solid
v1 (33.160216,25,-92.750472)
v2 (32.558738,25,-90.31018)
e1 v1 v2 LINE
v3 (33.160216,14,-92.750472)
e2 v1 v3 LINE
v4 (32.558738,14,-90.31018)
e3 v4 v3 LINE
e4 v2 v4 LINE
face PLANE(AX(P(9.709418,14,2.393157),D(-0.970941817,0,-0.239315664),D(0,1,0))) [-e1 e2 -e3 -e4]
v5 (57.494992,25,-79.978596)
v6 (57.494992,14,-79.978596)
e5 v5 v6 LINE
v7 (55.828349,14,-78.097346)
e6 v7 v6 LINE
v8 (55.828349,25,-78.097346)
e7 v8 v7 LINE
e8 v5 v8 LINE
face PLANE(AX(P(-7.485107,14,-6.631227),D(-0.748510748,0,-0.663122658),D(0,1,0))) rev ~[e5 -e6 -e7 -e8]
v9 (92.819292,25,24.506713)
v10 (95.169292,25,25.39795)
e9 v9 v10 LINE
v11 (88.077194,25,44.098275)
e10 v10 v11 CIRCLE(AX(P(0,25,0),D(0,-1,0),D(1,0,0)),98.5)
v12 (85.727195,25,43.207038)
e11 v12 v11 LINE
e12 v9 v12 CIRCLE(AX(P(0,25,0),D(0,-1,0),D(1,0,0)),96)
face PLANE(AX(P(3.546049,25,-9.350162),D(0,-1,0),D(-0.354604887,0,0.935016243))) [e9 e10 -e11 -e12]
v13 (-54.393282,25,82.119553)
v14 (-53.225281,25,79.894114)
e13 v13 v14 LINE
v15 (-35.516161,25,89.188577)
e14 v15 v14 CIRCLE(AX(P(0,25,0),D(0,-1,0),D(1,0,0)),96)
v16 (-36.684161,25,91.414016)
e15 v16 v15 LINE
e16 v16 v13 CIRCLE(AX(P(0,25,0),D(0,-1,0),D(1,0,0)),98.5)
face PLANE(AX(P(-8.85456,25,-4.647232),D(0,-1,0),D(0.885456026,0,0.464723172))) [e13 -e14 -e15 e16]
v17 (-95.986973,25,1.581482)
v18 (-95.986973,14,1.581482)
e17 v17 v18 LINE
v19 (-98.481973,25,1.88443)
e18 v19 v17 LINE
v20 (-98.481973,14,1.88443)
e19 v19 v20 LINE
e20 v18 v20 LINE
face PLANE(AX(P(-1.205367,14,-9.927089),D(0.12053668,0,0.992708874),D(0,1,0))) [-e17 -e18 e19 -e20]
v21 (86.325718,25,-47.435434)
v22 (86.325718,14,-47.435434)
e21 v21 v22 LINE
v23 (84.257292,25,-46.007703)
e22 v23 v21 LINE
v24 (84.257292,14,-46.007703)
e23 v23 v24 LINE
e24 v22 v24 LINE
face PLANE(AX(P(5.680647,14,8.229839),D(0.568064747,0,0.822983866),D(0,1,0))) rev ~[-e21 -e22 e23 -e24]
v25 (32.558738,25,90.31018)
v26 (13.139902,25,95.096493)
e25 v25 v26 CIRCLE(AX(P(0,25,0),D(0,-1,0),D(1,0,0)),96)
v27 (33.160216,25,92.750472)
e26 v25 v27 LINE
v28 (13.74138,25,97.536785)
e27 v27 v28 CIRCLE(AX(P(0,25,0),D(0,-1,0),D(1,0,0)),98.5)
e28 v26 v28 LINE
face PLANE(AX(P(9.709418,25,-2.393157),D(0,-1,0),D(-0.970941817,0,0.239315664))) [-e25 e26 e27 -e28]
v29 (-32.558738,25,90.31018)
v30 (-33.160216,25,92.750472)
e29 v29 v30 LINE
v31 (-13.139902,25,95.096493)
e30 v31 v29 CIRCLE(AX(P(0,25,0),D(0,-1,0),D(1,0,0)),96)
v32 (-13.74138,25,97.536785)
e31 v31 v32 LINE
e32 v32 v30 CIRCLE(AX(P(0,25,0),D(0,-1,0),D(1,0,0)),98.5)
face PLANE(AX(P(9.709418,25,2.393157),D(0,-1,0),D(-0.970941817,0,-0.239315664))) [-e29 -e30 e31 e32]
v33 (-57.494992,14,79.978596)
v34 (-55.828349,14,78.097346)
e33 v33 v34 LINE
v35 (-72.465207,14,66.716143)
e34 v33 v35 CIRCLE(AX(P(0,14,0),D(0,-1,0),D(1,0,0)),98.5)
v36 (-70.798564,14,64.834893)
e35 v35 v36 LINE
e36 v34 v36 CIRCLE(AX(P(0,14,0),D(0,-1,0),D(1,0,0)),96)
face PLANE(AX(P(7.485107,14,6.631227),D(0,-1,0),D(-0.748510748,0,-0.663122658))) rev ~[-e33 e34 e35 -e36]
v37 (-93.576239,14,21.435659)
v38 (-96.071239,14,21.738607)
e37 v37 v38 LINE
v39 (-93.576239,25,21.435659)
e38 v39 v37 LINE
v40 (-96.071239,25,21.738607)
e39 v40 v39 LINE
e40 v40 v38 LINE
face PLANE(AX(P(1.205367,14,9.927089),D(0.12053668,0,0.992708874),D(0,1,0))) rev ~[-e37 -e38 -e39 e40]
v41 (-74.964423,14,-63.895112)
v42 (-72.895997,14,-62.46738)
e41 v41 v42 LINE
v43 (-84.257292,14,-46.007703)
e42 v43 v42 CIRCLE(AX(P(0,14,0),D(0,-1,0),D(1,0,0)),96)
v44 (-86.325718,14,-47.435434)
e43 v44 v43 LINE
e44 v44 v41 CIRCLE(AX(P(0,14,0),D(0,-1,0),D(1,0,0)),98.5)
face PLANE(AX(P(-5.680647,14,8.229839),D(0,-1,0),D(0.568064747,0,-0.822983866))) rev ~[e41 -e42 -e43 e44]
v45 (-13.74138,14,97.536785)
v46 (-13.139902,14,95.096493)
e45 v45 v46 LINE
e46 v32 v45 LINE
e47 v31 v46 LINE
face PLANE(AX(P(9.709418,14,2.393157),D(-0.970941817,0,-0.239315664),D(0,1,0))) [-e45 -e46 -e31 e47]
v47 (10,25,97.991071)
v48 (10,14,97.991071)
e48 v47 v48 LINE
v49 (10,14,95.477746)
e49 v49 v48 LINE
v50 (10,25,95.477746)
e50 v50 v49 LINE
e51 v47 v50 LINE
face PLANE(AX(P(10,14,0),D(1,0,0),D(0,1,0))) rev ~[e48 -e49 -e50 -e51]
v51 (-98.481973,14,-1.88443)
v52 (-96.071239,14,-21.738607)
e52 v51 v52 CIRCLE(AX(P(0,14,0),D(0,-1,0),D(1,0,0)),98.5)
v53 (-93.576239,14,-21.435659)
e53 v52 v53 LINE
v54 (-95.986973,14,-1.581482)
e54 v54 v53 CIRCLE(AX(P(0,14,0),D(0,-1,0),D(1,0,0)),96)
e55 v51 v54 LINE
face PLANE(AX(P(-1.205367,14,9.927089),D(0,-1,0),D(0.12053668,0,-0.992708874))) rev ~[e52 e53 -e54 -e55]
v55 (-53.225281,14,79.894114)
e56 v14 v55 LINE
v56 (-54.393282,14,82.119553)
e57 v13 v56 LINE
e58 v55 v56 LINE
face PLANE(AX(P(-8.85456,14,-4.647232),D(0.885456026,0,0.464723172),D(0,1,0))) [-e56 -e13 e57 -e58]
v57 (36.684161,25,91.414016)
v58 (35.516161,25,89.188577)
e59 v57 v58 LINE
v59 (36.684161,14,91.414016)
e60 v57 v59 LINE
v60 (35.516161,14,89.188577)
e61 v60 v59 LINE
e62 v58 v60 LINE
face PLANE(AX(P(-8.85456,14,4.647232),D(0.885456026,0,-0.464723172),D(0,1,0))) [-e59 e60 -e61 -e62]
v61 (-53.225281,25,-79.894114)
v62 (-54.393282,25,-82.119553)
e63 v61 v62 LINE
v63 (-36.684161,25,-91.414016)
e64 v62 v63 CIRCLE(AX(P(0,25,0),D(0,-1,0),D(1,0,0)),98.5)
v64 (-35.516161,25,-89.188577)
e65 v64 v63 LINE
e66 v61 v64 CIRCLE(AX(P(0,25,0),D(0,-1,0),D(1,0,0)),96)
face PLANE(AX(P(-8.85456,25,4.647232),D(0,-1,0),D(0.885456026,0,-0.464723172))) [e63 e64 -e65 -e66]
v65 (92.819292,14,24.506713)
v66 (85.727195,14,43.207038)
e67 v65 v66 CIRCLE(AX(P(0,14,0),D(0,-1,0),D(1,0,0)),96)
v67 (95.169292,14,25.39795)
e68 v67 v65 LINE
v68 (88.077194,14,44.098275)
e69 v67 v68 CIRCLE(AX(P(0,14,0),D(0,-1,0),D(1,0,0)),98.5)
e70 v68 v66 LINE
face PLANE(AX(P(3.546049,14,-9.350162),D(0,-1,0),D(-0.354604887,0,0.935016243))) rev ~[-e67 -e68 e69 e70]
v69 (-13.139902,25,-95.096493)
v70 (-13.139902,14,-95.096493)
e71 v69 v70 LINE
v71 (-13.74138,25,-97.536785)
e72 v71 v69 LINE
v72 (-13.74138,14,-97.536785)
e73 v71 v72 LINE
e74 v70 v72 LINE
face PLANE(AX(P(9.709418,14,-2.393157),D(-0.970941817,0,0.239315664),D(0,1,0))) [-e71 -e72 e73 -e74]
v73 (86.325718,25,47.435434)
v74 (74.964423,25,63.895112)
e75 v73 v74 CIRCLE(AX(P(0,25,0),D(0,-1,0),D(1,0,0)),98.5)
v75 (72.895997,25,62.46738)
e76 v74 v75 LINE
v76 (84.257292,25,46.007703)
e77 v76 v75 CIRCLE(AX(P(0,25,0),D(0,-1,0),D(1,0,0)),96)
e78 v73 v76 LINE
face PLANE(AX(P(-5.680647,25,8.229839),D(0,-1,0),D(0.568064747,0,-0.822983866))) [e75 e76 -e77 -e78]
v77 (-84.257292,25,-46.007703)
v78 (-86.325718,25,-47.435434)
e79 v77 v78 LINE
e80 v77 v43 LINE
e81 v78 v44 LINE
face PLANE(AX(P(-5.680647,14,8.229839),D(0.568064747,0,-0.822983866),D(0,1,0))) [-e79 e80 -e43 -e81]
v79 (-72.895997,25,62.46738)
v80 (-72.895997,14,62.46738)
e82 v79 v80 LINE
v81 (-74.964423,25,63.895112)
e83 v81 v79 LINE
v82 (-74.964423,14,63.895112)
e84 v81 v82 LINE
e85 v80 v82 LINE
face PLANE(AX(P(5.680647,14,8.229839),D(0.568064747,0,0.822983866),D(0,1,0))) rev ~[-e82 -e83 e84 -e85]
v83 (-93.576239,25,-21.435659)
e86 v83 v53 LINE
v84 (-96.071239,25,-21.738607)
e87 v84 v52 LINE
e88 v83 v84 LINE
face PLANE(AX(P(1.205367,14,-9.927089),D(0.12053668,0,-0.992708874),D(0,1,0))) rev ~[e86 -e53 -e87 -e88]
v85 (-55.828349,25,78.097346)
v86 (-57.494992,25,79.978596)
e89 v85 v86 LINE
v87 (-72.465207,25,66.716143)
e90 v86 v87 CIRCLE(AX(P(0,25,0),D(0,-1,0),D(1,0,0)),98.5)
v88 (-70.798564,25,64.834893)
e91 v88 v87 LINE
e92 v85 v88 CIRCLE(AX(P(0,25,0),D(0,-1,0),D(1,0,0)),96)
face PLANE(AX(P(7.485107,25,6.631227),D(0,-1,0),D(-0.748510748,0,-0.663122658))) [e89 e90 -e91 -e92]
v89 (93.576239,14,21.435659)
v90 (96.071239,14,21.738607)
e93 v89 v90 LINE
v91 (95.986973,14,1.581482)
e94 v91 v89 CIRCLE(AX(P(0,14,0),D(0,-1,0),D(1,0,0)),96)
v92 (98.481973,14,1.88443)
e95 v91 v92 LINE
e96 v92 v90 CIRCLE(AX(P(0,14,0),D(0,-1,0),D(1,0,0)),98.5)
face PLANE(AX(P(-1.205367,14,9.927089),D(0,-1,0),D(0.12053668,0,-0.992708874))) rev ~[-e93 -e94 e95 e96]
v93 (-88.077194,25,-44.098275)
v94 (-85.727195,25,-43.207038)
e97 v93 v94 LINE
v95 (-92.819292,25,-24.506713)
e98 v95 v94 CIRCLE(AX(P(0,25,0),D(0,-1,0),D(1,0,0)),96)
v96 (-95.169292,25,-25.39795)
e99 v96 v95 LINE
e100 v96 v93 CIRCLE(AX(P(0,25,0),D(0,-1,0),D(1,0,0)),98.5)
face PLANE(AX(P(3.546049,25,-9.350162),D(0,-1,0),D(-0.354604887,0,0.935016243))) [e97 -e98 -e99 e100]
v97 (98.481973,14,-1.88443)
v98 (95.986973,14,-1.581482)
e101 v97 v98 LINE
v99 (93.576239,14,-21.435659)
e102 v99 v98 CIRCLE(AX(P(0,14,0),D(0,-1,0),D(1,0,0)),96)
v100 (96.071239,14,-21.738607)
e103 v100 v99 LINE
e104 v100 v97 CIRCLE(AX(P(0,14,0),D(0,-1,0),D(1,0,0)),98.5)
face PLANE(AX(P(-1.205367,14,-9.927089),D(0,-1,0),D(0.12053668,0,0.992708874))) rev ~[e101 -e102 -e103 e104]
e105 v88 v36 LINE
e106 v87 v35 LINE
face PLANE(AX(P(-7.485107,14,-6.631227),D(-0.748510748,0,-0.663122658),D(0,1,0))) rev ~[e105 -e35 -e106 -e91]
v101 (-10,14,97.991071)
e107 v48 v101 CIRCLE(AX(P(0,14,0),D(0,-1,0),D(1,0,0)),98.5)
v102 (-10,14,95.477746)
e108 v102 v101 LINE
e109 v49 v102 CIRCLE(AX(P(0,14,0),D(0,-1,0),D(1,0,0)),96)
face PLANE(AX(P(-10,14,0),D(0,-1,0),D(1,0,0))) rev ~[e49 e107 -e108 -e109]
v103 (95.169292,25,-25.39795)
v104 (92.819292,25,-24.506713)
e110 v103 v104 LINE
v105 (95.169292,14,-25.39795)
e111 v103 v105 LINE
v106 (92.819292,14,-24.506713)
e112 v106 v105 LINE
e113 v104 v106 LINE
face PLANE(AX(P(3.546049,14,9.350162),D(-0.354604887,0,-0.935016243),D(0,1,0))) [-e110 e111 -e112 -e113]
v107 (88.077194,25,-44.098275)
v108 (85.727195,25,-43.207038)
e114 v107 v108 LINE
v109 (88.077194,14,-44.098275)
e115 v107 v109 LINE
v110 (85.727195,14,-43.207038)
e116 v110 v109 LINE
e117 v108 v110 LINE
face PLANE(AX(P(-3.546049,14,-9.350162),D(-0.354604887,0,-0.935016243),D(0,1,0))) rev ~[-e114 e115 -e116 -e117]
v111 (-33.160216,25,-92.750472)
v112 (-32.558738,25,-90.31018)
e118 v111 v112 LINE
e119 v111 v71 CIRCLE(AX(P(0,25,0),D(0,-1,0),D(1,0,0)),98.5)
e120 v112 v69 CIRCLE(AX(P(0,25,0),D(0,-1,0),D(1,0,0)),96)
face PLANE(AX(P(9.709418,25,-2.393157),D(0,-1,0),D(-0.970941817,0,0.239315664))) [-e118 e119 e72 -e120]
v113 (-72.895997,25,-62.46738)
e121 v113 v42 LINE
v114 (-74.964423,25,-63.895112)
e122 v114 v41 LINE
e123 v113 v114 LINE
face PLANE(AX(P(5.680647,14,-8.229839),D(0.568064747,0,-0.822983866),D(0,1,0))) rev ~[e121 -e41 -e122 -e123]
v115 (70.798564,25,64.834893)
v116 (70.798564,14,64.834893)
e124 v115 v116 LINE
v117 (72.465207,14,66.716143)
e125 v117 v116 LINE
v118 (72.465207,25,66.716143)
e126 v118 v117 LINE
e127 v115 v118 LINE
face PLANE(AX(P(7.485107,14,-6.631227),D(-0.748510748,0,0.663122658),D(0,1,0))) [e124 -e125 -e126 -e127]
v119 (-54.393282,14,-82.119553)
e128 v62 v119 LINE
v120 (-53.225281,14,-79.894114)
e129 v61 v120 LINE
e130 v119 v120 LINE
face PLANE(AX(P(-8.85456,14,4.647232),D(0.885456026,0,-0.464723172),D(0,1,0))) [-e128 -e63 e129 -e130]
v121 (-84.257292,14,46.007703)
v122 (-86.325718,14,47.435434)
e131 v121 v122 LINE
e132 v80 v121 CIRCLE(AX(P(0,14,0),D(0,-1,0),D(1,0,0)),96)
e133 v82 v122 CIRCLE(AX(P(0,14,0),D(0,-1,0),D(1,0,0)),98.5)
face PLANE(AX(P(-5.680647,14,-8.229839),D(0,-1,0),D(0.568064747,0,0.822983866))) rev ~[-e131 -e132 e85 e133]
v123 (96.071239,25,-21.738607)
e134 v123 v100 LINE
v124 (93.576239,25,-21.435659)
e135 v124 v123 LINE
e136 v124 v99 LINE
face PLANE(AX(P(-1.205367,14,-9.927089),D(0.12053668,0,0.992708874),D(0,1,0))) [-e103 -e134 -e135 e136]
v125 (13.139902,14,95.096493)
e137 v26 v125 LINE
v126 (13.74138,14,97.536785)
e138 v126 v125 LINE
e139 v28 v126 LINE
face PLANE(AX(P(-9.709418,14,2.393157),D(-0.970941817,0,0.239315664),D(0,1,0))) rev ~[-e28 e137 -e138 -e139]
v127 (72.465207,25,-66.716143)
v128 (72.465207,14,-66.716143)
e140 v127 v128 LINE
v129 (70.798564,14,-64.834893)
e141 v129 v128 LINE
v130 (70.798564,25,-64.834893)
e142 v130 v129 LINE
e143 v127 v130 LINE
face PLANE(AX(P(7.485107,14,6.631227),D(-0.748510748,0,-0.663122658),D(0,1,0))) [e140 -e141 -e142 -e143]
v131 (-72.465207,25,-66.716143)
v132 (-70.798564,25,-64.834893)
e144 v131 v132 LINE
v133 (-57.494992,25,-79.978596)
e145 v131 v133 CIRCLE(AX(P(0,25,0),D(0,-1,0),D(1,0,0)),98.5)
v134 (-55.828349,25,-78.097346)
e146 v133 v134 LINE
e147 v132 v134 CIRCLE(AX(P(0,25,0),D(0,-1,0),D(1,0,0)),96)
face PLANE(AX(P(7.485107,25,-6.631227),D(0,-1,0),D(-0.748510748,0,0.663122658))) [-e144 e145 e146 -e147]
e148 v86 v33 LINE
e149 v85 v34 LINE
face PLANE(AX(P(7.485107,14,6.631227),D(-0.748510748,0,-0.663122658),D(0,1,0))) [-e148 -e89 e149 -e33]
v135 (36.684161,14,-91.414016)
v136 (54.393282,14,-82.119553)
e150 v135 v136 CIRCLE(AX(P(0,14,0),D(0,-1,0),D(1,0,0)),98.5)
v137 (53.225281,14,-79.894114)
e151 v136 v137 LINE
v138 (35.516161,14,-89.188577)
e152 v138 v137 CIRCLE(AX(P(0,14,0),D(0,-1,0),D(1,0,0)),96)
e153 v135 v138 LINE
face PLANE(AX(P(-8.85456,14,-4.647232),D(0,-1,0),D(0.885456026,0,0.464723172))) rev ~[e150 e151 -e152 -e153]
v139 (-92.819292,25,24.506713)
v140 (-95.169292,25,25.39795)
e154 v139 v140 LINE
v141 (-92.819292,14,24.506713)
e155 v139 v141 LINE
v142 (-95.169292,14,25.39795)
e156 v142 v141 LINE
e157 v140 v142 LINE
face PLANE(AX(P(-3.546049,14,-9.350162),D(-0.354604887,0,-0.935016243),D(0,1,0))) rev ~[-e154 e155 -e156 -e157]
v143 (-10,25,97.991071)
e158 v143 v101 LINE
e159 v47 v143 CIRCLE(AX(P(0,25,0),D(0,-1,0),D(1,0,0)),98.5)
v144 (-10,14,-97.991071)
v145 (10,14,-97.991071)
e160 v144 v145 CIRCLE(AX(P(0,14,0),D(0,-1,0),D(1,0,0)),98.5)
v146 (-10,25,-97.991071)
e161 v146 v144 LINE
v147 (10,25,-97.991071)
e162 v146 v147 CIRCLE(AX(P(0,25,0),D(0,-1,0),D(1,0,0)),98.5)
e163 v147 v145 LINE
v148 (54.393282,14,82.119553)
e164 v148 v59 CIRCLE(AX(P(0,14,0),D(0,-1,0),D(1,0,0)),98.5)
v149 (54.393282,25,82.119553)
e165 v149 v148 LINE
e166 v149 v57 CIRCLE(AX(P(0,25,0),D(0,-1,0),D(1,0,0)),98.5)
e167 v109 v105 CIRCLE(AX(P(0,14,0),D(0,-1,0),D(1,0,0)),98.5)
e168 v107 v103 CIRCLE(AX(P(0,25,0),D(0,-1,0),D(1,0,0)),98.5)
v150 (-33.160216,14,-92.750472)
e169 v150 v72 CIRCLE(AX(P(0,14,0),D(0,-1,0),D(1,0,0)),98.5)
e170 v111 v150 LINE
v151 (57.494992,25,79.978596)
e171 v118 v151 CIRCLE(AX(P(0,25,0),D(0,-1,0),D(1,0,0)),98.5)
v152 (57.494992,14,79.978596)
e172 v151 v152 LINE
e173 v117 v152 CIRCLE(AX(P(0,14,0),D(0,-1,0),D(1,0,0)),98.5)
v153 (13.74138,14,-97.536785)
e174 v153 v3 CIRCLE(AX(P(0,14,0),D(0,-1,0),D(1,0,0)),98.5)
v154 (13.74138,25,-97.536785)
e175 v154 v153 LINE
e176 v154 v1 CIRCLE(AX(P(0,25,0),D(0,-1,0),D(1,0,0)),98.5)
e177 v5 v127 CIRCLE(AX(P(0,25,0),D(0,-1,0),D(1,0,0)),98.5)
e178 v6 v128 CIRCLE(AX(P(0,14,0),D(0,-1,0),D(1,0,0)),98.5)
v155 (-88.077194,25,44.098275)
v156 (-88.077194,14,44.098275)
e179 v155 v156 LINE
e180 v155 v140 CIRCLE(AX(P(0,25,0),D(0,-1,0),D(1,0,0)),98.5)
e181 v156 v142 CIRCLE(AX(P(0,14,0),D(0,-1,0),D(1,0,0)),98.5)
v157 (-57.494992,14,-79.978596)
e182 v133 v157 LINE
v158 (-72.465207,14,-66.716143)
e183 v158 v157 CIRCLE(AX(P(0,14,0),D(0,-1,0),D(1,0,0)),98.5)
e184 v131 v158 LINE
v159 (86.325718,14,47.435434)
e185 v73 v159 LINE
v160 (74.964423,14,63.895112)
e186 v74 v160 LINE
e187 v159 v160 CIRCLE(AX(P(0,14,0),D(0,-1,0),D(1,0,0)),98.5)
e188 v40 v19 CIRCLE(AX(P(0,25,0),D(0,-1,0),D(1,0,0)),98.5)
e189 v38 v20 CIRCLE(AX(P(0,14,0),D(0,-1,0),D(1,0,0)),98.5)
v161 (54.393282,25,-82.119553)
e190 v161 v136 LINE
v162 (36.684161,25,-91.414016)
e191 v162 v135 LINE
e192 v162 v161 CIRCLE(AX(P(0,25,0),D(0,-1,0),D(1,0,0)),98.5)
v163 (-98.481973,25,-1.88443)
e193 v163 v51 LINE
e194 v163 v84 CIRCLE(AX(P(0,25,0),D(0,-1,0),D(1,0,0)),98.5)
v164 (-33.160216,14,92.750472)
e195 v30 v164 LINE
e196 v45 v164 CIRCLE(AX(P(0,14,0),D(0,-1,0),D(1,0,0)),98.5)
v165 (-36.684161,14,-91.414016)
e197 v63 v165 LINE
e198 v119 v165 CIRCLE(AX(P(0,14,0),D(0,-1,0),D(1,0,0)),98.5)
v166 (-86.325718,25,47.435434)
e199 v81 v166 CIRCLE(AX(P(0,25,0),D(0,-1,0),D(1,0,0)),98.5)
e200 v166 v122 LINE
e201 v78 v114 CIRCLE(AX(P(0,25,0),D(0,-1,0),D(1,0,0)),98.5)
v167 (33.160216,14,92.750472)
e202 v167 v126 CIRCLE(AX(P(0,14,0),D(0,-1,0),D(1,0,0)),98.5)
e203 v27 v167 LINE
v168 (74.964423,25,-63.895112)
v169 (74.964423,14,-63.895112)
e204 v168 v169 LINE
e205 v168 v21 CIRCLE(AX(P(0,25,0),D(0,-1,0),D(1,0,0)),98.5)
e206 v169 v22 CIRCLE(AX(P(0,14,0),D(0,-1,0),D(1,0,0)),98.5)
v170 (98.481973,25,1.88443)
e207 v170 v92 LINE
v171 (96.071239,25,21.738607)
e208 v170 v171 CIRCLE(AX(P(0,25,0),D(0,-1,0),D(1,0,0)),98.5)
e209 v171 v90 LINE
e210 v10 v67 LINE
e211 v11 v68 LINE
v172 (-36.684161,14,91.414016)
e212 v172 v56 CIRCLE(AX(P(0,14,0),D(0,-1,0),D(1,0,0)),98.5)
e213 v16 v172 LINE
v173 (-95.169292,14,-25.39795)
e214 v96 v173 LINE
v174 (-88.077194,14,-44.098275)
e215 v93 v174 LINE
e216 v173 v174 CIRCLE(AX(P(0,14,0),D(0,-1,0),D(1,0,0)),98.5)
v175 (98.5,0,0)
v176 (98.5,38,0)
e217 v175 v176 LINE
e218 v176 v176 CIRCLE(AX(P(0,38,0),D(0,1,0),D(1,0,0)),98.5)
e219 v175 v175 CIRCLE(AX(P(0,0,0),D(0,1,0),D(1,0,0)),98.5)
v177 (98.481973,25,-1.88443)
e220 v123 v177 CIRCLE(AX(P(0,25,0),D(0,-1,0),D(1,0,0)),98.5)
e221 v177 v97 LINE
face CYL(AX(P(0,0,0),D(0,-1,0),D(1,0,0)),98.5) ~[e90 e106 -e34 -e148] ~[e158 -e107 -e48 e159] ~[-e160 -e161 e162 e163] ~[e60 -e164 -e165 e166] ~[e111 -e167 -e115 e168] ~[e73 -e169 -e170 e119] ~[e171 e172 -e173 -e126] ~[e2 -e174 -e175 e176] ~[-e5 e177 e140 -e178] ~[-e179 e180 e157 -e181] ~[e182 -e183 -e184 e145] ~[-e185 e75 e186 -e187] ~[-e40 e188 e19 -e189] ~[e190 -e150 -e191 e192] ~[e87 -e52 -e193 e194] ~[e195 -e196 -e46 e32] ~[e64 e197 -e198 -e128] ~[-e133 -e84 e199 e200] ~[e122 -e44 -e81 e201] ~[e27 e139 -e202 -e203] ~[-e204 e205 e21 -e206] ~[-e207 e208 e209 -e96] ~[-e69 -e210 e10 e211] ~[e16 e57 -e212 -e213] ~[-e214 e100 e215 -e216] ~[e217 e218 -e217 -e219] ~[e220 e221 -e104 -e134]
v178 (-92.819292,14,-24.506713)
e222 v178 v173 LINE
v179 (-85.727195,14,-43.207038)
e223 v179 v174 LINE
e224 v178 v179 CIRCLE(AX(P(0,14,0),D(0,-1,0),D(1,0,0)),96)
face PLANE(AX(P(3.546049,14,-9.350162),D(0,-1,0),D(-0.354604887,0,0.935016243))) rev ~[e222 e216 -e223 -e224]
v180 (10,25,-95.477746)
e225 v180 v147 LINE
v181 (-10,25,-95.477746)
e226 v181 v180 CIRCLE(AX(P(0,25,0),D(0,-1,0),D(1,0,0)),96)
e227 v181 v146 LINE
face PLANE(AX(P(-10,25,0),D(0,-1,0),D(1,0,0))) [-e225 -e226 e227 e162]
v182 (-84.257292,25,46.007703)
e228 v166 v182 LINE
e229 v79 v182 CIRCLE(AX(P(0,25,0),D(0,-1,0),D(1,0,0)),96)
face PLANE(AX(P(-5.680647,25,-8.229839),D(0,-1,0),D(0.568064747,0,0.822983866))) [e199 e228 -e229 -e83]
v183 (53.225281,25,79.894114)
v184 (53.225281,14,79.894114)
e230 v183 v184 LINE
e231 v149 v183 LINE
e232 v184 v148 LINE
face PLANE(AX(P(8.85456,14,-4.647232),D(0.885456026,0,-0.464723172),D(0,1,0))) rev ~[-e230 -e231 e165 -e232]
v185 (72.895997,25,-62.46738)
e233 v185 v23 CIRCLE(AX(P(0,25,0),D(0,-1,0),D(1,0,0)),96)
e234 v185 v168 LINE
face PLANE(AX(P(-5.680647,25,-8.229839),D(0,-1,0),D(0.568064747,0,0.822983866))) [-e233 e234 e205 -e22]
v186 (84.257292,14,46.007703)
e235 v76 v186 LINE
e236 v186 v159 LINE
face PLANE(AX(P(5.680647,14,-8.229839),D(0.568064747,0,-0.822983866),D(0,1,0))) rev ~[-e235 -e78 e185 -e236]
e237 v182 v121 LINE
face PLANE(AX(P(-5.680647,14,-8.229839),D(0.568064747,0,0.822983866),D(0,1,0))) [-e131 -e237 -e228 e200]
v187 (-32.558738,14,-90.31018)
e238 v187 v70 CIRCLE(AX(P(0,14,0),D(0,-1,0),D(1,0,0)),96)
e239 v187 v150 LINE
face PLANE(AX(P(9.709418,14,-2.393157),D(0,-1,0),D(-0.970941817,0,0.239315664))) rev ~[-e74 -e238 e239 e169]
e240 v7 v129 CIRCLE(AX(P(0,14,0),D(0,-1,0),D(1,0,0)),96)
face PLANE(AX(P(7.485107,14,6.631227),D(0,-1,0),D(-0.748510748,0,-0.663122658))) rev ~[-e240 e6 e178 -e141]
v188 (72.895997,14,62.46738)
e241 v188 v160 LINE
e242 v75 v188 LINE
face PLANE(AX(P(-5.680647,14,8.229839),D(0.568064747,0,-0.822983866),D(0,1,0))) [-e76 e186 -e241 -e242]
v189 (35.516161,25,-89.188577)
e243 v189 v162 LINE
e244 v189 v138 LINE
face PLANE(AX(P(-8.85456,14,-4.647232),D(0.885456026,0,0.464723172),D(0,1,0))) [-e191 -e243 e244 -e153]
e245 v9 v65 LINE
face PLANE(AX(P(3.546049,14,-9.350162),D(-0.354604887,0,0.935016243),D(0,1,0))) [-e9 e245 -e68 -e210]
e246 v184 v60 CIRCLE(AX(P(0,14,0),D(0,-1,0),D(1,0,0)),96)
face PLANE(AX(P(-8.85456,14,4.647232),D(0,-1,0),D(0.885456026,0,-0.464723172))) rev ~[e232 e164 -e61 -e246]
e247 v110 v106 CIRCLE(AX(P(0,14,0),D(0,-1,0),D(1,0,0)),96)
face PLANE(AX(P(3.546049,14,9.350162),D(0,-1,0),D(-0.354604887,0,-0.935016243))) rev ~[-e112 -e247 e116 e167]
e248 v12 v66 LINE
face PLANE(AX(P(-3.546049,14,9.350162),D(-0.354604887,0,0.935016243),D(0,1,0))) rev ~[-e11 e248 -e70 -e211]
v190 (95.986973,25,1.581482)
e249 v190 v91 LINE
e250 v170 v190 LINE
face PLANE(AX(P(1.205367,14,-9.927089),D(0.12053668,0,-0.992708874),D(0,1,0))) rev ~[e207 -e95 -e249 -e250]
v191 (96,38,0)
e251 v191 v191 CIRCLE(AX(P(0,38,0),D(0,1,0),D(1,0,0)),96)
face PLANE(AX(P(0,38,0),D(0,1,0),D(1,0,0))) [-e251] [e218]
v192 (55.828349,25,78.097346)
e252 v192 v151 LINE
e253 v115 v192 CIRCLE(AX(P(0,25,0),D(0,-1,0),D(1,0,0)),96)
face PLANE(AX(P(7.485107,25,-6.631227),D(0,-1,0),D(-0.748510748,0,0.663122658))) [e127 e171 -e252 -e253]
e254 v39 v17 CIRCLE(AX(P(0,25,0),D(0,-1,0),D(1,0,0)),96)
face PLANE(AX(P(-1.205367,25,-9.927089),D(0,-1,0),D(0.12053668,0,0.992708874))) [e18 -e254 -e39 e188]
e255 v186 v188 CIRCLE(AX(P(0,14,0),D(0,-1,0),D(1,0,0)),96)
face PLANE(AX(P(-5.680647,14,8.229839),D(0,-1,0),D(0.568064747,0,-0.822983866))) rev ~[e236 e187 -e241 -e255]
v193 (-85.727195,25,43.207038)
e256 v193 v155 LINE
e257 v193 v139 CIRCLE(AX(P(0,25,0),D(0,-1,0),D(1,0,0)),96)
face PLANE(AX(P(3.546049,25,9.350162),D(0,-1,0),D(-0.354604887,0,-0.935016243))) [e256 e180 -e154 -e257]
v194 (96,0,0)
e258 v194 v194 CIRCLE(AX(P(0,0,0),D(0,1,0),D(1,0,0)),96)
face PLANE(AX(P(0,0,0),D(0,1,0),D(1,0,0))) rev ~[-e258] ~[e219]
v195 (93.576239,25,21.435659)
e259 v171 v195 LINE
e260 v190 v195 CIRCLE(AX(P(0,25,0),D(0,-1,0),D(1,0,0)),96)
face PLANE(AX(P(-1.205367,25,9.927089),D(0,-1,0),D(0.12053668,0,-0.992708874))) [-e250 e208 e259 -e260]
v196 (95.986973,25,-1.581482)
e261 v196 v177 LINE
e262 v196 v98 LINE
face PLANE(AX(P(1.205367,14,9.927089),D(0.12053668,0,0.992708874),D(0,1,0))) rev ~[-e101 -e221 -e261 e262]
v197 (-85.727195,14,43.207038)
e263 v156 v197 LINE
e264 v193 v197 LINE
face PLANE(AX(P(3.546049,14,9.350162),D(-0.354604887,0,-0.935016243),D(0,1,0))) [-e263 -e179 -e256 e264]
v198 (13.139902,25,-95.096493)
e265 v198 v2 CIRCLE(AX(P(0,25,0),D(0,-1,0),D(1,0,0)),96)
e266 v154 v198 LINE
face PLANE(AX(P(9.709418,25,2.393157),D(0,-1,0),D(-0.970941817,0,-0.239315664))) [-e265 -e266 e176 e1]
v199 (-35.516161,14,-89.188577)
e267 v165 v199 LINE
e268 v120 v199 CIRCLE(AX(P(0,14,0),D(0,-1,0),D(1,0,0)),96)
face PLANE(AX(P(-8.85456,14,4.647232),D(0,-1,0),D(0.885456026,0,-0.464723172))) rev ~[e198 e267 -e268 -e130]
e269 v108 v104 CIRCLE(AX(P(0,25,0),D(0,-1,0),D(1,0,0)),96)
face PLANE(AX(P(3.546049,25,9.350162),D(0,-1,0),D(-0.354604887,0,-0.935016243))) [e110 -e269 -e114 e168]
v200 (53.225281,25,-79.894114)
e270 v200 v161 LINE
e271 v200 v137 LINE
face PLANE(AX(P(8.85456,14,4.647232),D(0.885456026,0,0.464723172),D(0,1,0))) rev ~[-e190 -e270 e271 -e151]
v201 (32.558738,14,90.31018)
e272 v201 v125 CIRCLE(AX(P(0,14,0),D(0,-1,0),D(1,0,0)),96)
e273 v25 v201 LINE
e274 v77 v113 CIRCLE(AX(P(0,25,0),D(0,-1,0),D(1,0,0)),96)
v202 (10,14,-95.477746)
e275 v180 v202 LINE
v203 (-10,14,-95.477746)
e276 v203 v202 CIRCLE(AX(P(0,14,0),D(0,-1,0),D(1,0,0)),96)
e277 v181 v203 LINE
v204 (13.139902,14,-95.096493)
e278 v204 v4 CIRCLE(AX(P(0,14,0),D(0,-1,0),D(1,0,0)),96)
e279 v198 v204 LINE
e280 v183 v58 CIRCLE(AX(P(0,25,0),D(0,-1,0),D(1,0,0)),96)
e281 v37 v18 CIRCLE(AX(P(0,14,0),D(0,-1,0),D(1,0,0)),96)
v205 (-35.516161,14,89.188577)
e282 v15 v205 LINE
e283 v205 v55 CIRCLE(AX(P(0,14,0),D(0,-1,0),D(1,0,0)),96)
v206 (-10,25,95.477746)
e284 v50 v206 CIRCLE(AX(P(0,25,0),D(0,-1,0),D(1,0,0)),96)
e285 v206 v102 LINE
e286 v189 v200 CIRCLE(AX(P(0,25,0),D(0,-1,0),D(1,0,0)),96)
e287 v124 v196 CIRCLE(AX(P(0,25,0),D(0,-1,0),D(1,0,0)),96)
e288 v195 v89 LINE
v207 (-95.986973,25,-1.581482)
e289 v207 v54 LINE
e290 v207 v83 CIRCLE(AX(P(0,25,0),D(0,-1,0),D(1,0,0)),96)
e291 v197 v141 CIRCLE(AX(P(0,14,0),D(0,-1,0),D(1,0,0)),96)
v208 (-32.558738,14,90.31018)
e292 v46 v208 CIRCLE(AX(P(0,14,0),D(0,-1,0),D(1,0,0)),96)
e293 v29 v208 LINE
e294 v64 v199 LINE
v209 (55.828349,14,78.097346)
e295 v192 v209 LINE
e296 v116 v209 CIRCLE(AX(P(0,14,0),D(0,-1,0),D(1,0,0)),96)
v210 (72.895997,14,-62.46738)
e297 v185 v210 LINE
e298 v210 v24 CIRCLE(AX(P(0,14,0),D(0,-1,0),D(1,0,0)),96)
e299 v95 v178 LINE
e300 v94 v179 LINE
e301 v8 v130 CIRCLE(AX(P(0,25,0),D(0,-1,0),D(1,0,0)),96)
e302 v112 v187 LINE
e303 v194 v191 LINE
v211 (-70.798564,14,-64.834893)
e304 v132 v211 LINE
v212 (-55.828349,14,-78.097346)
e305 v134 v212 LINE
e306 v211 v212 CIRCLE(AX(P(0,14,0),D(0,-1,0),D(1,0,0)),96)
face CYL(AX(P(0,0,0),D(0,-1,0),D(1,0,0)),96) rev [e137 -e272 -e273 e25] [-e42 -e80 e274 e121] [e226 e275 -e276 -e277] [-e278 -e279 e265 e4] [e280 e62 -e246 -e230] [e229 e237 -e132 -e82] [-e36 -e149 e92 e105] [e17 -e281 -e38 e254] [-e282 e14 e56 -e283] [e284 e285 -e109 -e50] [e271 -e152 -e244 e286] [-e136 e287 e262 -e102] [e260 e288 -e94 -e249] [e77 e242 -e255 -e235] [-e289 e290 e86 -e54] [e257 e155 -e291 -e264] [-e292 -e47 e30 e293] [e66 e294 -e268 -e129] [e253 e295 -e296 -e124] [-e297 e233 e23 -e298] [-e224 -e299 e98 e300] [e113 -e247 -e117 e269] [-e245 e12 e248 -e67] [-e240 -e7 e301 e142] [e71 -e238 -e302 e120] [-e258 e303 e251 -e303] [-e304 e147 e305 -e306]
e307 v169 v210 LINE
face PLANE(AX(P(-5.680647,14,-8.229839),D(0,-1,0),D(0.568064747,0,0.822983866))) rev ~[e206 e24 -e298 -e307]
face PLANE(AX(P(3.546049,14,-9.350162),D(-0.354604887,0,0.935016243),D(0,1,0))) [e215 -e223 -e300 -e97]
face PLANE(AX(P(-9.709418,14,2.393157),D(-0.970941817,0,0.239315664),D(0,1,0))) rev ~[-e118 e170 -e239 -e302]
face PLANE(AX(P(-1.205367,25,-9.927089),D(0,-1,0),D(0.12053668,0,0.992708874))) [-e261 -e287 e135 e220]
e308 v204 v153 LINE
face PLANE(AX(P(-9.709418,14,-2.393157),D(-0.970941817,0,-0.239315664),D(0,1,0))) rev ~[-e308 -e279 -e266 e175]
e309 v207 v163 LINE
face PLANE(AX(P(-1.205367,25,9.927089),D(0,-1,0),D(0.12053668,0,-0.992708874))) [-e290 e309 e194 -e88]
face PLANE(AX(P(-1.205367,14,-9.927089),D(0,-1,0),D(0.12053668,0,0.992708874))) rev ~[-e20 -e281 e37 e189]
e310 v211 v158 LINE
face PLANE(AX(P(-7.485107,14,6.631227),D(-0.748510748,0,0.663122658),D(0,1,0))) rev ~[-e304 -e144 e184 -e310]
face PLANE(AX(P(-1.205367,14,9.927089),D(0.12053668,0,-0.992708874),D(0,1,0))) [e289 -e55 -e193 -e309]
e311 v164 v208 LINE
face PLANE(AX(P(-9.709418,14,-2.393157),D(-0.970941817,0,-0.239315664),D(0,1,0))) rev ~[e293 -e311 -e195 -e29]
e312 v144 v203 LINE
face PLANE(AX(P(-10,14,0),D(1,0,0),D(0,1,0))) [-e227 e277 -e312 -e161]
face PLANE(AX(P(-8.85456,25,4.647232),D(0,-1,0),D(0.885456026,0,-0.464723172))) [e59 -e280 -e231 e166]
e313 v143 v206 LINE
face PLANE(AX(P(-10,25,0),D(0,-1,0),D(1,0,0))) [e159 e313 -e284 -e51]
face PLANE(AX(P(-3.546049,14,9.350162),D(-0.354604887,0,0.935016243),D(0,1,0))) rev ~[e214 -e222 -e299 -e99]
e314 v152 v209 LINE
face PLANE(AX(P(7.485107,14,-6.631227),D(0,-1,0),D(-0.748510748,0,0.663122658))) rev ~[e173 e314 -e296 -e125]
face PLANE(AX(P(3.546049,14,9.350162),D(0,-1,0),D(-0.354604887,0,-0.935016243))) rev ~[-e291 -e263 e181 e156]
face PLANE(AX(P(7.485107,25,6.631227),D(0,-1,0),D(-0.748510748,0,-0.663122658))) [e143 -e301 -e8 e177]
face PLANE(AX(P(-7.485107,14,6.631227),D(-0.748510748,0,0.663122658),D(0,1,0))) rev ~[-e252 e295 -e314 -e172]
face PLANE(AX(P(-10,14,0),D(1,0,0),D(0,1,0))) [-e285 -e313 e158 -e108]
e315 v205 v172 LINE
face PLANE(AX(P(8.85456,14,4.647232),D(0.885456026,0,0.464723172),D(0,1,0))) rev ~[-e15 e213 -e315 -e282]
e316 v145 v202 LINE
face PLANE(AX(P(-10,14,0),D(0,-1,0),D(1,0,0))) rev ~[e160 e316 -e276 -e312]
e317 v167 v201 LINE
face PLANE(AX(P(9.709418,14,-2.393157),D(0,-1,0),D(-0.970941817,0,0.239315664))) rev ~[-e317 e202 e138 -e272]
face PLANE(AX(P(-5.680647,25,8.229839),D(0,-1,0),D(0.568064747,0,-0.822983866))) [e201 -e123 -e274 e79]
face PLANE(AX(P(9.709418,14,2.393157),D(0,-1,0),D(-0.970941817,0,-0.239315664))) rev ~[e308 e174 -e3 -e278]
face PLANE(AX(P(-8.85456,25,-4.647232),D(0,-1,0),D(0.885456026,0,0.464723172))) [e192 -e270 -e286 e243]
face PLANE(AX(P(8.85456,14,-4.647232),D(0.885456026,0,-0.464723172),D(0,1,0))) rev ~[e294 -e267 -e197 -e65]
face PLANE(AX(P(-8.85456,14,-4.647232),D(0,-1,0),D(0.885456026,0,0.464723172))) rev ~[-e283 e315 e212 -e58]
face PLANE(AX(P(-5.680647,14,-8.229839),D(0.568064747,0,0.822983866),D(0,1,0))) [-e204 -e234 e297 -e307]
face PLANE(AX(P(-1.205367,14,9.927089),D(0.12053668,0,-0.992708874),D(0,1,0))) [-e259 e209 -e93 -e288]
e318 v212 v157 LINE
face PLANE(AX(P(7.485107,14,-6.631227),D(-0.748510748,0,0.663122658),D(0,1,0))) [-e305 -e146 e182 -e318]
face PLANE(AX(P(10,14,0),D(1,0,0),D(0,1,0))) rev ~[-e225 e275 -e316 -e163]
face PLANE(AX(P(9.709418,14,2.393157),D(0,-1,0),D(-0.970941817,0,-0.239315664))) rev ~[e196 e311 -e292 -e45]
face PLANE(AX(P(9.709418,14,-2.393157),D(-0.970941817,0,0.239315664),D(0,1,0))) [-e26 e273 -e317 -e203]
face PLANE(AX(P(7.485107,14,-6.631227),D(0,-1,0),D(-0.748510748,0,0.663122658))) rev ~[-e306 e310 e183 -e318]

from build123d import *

# Parameters (mm, degrees)
SKETCH1_R           = 98.5
SKETCH1_R_2         = 96
BOSS_EXTRUDE1_DEPTH = 38
SKETCH2_W           = 20
SKETCH2_H           = 11
CUT_EXTRUDE1_DEPTH  = 99.5
CIRPATTERN1_COUNT   = 13


with BuildPart() as part:
    # Sketch1 → Boss-Extrude1 (new body)
    with BuildSketch(Plane(origin=(0, 0, 0), x_dir=(1, 0, 0), z_dir=(0, 1, 0))):
        Circle(SKETCH1_R)
        Circle(SKETCH1_R_2, mode=Mode.SUBTRACT)
    extrude(amount=BOSS_EXTRUDE1_DEPTH)

    # Sketch2 → Cut-Extrude1 (cut, symmetric)
    with BuildSketch(Plane.XY):
        with Locations((0, 19.5)):
            Rectangle(SKETCH2_W, SKETCH2_H)
    cut_extrude1 = extrude(amount=CUT_EXTRUDE1_DEPTH, both=True, mode=Mode.SUBTRACT)

    # CirPattern1: Cut-Extrude1 ×13 about axis
    cirpattern1_axis = Axis((0, 0, 0), (0, 1, 0))
    for i in range(1, CIRPATTERN1_COUNT):
        add(cut_extrude1.rotate(cirpattern1_axis, i * 360 / CIRPATTERN1_COUNT), mode=Mode.SUBTRACT)


solid = part.part
